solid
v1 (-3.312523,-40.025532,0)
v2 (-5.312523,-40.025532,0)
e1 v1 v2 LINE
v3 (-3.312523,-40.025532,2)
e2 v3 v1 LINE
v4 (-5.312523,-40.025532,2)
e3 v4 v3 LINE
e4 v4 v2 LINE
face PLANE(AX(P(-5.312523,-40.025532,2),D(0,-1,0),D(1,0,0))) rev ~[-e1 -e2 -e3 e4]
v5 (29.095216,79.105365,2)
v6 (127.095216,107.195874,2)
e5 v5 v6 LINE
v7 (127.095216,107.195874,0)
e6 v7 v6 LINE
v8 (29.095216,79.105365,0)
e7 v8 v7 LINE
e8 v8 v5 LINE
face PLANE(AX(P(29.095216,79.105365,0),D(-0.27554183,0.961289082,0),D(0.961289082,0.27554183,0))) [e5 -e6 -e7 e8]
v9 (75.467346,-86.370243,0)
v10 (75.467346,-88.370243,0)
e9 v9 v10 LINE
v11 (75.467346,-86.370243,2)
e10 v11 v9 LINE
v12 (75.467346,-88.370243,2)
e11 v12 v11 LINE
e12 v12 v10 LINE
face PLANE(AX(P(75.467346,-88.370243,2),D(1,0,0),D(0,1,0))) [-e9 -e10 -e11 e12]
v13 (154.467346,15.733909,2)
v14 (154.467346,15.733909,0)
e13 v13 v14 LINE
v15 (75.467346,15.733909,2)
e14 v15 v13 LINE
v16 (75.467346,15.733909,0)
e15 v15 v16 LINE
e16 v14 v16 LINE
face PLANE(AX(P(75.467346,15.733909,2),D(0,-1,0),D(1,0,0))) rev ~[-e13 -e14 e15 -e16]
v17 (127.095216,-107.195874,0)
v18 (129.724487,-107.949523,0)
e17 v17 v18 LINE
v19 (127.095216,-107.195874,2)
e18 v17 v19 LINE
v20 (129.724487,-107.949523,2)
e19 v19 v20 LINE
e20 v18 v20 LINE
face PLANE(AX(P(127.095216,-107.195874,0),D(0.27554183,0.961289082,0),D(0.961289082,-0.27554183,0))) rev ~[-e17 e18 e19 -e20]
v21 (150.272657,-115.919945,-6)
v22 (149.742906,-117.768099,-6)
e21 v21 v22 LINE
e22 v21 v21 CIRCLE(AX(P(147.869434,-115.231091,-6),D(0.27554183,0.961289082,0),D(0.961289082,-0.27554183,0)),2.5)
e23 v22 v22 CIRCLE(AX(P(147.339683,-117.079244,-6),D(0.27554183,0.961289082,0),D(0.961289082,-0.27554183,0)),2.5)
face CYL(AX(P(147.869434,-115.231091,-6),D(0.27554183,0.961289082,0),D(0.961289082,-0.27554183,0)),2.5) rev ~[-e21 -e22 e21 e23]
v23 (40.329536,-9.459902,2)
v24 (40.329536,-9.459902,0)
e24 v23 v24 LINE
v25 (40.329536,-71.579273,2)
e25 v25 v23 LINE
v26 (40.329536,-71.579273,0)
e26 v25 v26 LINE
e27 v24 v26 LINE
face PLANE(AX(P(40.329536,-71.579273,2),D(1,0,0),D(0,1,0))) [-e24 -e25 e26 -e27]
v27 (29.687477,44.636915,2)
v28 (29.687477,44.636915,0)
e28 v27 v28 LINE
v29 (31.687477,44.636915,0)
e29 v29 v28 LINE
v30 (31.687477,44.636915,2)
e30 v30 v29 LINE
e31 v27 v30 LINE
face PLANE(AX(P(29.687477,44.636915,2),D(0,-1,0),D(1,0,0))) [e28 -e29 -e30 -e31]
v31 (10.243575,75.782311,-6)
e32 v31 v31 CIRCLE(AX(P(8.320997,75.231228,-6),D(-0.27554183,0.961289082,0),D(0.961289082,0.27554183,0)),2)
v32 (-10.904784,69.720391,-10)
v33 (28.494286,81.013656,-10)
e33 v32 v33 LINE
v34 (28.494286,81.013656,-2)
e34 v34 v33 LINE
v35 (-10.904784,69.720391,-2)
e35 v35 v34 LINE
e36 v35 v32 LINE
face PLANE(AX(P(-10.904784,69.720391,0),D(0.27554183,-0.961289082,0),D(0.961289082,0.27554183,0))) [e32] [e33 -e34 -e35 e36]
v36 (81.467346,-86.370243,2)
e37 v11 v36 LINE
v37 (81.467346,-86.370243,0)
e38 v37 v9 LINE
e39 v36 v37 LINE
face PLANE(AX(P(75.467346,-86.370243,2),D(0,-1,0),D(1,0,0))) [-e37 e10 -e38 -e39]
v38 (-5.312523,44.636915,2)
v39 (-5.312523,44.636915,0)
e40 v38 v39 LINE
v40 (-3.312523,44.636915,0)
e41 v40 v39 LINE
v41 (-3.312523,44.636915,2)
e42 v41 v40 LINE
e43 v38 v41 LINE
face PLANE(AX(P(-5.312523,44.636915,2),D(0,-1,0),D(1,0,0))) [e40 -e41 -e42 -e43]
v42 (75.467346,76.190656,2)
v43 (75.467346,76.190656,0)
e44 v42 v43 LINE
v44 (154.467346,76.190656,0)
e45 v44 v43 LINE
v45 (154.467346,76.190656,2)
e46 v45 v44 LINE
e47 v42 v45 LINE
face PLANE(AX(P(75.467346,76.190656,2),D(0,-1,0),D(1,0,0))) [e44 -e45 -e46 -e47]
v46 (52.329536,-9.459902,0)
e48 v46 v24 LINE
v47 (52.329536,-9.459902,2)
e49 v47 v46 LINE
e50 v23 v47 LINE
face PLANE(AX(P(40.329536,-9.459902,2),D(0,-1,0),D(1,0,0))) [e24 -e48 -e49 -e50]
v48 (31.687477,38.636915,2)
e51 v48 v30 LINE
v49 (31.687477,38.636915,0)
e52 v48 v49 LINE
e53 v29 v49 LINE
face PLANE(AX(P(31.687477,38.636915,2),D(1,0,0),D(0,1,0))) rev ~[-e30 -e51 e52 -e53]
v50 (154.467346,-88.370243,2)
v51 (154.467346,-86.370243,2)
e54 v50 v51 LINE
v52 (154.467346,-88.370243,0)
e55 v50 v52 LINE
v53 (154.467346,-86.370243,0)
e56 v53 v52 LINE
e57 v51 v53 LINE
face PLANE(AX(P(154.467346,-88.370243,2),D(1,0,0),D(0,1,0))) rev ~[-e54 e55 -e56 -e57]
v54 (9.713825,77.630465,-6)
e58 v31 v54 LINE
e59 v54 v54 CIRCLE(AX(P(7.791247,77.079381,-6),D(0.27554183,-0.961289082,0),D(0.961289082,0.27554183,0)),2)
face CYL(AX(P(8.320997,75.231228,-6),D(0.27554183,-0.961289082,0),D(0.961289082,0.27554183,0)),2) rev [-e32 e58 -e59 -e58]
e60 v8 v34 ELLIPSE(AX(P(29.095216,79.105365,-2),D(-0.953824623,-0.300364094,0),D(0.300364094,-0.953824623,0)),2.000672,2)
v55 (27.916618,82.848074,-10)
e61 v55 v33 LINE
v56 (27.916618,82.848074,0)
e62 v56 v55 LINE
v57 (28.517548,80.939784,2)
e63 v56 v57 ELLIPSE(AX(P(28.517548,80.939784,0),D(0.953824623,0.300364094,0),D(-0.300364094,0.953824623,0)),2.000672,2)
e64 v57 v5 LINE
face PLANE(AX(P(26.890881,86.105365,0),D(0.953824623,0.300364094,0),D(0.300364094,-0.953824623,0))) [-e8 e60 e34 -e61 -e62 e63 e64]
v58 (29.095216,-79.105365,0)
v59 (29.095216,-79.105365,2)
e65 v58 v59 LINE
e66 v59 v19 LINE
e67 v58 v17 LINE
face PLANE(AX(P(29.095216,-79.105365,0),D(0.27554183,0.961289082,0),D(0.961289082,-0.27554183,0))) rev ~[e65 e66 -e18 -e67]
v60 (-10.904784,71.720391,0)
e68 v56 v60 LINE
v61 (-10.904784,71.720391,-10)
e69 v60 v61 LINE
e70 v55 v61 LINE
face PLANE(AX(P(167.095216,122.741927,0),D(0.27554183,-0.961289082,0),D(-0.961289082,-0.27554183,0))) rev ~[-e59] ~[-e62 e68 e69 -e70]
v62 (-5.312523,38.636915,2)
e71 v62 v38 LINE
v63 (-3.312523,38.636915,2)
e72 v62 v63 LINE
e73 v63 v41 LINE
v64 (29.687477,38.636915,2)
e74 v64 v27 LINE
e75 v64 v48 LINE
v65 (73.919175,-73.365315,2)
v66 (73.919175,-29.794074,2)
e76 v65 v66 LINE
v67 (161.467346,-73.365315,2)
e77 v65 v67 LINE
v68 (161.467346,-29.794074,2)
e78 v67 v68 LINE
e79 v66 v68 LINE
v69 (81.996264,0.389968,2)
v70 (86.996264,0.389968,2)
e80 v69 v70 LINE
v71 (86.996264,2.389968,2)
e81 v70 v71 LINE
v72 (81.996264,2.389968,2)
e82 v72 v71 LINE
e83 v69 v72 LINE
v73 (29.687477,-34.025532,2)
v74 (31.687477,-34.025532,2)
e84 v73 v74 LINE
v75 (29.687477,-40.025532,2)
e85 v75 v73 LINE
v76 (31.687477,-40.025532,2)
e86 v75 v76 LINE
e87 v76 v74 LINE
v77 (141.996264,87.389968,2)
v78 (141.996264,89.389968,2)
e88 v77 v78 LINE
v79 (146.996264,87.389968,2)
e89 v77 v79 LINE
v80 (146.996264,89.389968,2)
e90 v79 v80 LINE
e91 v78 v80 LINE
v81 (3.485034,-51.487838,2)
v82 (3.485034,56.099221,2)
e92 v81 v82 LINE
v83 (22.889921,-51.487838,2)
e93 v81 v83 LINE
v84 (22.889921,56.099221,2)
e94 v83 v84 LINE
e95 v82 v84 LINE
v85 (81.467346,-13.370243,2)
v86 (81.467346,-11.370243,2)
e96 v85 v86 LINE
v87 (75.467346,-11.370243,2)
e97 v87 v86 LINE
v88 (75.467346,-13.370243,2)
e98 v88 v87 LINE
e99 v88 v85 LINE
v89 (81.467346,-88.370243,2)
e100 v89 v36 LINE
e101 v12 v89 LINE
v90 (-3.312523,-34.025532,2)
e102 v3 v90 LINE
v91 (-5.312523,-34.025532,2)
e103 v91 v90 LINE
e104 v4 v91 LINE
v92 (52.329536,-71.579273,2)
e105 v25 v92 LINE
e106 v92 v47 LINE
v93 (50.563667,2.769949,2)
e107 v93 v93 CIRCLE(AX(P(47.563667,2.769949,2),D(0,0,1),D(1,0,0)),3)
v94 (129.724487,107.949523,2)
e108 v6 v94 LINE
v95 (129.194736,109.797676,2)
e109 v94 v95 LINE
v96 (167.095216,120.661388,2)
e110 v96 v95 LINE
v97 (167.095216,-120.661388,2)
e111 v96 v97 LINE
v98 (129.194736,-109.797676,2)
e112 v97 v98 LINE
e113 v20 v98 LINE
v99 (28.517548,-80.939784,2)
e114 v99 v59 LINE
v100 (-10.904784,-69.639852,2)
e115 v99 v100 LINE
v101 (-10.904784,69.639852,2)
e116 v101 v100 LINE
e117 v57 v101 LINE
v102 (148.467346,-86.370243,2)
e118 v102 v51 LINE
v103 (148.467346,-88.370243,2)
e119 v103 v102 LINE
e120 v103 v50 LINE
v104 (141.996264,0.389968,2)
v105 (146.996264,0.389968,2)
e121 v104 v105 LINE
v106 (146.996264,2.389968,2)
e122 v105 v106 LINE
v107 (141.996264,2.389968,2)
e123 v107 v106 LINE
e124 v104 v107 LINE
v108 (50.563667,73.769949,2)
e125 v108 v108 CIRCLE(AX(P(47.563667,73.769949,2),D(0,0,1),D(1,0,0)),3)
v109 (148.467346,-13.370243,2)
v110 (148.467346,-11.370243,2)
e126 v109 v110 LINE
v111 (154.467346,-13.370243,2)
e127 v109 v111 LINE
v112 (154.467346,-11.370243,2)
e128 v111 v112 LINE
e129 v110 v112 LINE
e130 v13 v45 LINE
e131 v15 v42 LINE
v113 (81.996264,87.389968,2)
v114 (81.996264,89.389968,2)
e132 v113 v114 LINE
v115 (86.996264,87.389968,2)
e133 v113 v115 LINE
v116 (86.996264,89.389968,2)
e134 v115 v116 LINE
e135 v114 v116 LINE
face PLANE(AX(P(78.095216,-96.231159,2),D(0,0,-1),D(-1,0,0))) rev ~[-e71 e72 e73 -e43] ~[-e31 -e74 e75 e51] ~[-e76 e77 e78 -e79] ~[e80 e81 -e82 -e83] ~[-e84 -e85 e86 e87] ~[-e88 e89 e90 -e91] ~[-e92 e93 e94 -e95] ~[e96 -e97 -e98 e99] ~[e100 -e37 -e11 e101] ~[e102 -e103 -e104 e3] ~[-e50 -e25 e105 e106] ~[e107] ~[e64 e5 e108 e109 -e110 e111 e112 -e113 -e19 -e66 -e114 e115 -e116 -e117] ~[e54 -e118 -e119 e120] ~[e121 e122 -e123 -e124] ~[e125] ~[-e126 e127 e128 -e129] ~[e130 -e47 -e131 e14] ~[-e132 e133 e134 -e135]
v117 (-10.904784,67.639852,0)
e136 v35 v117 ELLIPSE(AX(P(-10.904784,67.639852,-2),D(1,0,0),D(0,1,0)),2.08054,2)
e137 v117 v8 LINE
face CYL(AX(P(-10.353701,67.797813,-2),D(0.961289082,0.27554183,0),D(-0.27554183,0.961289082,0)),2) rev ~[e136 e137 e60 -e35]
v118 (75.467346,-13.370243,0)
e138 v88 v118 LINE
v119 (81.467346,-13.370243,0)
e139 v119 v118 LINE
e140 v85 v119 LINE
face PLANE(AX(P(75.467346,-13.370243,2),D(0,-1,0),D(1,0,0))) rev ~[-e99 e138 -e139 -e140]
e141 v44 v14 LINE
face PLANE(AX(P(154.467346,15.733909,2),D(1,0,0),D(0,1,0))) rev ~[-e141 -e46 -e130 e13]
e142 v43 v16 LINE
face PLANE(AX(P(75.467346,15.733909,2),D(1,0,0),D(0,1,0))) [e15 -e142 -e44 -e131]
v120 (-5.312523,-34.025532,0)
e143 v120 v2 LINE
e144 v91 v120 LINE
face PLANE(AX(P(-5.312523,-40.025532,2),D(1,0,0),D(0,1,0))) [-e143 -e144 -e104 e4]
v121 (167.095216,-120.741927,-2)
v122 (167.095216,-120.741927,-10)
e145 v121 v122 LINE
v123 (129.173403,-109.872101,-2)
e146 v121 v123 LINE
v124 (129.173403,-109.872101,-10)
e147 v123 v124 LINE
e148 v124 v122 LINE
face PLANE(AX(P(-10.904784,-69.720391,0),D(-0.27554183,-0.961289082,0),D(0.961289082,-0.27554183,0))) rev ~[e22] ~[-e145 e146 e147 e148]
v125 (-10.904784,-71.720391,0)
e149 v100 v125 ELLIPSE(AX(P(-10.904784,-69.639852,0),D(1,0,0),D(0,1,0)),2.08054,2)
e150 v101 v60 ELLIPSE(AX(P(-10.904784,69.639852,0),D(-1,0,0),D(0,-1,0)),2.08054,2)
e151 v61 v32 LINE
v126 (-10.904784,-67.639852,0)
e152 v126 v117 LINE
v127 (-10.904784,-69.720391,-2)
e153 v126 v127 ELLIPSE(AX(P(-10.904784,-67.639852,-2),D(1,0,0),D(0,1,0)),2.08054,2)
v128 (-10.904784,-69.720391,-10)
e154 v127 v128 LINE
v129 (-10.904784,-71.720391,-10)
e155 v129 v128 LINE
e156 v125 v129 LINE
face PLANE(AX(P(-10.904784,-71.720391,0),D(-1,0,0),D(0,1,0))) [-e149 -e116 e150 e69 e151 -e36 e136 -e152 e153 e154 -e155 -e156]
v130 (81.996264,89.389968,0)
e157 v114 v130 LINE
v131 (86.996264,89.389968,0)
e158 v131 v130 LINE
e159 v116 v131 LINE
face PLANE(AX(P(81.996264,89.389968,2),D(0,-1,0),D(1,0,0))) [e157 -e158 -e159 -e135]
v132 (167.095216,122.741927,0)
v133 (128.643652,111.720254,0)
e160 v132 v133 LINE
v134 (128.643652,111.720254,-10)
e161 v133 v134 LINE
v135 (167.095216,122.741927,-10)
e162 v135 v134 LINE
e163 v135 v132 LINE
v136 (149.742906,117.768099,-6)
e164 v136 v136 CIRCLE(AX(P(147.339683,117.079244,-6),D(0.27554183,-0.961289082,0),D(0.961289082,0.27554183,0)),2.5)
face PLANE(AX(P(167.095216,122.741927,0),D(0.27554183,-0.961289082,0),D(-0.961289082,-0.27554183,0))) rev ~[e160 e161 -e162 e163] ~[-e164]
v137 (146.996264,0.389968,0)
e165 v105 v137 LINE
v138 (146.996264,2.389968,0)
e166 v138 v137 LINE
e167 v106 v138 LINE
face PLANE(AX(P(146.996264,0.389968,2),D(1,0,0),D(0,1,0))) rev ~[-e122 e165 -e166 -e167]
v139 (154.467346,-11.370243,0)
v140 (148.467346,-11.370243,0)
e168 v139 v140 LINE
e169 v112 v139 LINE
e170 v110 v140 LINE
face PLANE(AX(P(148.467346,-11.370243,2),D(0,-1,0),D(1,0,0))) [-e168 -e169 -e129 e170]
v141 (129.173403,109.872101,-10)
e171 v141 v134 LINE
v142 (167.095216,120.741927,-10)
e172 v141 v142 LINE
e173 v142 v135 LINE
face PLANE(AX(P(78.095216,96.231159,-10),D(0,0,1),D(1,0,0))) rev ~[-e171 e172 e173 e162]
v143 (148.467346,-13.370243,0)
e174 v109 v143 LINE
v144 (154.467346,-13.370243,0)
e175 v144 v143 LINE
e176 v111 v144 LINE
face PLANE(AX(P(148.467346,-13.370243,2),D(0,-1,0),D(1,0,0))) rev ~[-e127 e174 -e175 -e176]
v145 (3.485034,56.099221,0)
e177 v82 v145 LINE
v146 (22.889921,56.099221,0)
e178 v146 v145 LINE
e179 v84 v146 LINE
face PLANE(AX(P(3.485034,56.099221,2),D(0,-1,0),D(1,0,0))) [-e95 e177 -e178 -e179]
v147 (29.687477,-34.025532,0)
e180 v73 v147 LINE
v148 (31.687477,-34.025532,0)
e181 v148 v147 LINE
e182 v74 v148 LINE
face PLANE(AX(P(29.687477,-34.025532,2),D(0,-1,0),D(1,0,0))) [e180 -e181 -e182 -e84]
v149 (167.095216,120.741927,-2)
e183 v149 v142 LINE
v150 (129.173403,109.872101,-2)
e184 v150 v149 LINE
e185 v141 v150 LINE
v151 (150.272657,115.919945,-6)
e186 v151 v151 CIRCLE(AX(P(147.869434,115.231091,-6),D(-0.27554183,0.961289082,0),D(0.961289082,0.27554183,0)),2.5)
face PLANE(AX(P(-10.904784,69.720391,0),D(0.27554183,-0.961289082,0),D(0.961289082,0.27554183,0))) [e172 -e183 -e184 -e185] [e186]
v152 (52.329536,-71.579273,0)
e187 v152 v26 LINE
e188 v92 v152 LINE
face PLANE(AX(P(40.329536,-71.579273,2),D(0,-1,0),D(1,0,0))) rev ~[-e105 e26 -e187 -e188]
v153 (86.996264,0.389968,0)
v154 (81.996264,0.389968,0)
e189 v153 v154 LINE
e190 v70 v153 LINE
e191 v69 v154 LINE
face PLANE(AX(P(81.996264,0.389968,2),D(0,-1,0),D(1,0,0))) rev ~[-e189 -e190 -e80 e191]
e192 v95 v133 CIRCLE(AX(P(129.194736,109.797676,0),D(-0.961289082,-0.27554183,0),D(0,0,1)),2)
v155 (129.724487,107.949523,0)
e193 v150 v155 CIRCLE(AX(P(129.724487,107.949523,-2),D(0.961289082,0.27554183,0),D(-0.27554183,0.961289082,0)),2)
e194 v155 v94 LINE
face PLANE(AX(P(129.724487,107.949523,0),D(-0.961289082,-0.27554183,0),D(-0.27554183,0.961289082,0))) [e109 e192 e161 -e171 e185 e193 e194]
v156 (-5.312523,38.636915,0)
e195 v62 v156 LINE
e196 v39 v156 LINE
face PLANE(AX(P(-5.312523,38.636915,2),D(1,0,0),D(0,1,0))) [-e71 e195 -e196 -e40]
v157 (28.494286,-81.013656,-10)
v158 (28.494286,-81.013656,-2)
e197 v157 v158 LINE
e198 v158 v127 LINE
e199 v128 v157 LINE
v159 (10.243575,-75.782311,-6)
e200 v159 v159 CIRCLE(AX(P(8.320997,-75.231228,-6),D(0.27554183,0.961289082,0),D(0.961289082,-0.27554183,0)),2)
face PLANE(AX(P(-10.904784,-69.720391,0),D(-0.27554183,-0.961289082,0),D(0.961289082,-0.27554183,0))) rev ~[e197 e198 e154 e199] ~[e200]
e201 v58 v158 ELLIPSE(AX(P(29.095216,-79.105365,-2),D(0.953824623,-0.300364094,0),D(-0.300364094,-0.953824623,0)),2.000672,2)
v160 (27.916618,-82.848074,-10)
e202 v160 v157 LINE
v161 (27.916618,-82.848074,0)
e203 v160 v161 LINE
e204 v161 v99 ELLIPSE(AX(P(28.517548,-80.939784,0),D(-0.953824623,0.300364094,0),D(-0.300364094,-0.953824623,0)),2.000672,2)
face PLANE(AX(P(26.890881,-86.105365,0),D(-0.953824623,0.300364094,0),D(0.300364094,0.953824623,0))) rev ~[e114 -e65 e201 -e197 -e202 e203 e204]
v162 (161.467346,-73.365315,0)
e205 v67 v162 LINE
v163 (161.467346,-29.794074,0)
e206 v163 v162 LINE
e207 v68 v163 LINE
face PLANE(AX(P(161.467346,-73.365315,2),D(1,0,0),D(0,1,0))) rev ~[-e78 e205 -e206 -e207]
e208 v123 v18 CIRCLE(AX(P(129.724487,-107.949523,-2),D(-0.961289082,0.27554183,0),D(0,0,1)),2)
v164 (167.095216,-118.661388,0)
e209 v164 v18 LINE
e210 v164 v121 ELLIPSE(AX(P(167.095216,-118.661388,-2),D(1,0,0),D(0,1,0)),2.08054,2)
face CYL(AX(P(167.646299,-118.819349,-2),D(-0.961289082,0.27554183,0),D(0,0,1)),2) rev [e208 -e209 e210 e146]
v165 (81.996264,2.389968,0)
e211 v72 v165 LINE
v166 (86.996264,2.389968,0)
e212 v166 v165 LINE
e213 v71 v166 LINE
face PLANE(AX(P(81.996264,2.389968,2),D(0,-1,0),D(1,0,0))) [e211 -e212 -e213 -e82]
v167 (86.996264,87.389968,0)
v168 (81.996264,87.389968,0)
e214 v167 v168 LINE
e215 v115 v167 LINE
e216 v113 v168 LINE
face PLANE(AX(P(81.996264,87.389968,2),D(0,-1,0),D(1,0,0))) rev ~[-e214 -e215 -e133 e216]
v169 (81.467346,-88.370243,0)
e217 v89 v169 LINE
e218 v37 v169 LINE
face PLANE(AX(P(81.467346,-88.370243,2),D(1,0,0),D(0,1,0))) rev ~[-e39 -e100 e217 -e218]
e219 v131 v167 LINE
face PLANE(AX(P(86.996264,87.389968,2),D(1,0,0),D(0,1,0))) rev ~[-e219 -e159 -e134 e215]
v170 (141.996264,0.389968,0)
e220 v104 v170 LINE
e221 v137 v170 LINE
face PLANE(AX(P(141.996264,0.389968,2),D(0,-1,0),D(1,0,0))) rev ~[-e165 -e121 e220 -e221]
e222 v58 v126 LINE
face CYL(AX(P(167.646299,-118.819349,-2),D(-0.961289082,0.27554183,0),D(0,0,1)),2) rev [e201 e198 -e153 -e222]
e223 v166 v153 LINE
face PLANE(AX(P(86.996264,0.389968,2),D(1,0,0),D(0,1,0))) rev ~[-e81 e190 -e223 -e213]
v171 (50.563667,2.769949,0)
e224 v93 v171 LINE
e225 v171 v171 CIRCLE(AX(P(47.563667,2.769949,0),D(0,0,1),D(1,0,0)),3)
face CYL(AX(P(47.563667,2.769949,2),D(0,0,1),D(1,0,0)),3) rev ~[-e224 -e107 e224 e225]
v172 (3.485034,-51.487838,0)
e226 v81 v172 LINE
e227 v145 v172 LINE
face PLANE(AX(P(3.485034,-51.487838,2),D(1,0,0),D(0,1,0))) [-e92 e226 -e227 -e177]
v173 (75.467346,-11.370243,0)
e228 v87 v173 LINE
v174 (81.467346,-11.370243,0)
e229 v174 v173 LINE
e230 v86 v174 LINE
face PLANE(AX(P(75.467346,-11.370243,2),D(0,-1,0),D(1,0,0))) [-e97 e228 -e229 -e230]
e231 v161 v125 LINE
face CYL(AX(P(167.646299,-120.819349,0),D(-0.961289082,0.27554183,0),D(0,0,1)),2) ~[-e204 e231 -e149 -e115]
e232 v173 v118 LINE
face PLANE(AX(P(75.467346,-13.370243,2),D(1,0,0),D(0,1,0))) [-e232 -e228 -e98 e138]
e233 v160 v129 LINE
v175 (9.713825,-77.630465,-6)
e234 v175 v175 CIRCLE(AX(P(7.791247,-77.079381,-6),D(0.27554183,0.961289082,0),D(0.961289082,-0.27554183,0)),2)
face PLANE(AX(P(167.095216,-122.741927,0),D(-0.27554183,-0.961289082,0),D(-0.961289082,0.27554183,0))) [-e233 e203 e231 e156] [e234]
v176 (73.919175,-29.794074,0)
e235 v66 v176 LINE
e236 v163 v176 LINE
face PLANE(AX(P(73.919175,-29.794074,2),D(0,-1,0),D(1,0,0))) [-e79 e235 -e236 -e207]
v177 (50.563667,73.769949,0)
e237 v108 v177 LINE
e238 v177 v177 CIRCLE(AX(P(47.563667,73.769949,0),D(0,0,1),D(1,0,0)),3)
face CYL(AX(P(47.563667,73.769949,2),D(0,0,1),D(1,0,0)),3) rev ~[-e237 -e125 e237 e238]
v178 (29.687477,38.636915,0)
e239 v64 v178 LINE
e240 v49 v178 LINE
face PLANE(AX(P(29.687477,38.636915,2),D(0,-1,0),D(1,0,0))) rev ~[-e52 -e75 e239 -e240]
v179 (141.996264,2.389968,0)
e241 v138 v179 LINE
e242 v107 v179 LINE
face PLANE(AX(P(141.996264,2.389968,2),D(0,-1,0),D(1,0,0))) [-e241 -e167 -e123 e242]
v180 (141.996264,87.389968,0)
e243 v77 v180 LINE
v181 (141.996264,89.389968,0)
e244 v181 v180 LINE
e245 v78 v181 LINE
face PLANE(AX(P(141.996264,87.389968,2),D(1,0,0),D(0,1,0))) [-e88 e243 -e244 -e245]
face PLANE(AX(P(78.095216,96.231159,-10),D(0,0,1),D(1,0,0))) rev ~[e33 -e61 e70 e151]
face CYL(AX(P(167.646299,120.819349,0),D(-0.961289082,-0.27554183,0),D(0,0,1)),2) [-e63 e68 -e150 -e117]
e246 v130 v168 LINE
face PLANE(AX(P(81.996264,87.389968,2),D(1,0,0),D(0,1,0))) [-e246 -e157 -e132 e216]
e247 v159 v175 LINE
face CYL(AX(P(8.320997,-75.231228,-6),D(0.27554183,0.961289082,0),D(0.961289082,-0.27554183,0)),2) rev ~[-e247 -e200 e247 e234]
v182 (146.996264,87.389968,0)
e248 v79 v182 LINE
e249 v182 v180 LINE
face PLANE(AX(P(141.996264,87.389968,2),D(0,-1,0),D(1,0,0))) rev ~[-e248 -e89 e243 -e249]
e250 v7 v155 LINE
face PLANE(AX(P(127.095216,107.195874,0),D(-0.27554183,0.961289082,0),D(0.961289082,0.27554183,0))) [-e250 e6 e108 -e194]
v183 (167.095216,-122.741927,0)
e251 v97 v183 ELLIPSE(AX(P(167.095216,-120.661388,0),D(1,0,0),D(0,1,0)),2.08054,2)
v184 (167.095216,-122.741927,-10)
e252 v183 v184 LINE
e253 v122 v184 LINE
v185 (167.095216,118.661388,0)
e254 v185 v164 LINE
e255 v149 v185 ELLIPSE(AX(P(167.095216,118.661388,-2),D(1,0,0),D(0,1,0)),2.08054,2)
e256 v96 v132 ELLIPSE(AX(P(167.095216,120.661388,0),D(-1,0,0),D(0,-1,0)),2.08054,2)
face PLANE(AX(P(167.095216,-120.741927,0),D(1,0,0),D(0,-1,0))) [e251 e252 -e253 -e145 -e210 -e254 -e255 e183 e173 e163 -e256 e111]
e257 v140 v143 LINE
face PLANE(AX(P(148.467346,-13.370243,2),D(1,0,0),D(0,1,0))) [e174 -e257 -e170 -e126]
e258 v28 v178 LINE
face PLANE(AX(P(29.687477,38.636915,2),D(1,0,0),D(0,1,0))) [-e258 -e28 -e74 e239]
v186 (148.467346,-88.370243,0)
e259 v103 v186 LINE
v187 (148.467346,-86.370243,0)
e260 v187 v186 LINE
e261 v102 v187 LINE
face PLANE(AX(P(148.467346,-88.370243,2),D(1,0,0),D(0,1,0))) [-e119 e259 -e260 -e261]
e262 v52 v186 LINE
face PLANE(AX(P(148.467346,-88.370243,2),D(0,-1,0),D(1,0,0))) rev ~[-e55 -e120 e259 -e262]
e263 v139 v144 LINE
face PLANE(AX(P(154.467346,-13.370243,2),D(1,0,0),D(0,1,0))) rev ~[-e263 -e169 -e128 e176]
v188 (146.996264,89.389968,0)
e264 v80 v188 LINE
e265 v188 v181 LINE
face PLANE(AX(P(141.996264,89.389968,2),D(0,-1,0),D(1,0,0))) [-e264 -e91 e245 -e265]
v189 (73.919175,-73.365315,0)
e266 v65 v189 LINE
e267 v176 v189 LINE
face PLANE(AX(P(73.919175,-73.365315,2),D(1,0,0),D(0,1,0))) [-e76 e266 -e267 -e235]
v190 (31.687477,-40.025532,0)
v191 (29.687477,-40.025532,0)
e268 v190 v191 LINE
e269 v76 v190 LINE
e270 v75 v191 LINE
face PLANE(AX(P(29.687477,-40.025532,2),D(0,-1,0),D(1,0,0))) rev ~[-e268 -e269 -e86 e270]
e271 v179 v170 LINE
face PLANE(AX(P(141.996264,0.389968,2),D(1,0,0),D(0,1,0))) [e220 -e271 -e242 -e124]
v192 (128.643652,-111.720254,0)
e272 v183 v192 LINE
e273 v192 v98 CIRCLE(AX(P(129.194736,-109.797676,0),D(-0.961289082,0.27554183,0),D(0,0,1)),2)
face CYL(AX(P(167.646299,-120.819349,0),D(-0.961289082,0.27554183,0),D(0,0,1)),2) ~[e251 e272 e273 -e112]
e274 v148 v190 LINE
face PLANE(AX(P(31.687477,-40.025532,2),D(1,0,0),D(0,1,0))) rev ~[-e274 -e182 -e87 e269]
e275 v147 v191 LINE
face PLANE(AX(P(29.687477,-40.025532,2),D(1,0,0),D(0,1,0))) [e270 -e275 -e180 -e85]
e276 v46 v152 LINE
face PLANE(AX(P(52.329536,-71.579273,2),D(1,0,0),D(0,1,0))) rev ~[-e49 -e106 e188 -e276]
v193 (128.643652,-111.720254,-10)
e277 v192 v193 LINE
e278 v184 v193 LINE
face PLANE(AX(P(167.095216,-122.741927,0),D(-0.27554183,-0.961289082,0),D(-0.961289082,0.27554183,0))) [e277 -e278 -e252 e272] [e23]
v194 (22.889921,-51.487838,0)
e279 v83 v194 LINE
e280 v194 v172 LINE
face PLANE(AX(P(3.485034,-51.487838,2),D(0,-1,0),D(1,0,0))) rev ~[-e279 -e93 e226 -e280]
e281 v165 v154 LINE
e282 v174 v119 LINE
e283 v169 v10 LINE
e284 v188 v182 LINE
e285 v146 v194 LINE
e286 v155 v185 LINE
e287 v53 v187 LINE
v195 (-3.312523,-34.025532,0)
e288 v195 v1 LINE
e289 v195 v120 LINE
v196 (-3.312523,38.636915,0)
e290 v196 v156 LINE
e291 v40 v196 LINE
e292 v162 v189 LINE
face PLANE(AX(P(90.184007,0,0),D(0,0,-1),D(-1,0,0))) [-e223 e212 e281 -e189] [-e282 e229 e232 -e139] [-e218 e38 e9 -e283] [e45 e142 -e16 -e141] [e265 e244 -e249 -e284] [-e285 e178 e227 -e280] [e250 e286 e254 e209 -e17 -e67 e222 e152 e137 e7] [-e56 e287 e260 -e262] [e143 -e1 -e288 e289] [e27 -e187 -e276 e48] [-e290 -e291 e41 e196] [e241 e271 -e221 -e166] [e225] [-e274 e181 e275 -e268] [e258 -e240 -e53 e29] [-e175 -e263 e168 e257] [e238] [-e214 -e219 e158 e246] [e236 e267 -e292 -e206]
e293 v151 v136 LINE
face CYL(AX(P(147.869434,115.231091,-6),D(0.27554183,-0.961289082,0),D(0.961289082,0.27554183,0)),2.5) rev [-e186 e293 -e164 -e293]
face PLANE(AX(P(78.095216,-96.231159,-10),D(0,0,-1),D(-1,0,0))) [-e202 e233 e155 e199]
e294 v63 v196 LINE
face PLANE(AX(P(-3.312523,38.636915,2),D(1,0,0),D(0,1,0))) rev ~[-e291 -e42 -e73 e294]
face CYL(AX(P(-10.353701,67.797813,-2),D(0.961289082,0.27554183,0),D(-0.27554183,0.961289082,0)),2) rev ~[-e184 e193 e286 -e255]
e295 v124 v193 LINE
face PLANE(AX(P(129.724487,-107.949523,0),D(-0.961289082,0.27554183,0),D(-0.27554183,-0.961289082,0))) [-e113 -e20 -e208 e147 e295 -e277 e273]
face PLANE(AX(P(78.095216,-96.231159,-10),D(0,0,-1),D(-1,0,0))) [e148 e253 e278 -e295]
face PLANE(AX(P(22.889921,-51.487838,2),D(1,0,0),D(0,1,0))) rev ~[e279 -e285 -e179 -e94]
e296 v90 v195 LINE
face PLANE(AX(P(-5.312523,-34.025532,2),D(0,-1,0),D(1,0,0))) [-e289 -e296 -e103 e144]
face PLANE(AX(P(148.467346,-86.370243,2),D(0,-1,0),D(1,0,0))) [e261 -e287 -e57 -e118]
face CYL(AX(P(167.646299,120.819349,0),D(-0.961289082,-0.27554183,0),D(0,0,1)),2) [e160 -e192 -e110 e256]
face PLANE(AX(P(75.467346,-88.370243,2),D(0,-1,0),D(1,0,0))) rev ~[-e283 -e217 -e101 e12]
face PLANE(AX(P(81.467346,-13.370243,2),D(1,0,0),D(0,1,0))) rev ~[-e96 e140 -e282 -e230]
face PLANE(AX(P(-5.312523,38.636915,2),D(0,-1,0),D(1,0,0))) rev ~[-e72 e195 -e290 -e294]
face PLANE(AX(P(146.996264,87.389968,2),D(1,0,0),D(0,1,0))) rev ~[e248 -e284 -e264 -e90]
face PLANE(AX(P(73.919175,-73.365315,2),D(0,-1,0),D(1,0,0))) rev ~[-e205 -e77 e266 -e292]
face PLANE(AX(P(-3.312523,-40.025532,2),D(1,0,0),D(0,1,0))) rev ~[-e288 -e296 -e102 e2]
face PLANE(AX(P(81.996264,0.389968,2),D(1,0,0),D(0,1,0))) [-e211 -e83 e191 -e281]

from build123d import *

# Parameters (mm, degrees)
BOSS_EXTRUDE1_DEPTH      = 2
SKETCH2_R                = 3
SKETCH2_W                = 2
SKETCH2_H                = 6
SKETCH2_W_2              = 19.404886506
SKETCH2_H_2              = 107.587058951
SKETCH2_W_3              = 12
SKETCH2_H_3              = 62.119371688
SKETCH2_W_4              = 6
SKETCH2_H_4              = 2
SKETCH2_W_5              = 5
SKETCH2_W_6              = 87.5481705
SKETCH2_H_5              = 43.571241204
SKETCH2_W_7              = 79
SKETCH2_H_6              = 60.456746524
CUT_EXTRUDE1_DEPTH       = 10
BOSS_EXTRUDE2_DEPTH      = 10
BOSS_EXTRUDE2_DEPTH_BACK = 2
FILLET1_R                = 2
CUT_EXTRUDE2_DEPTH       = 10
CUT_EXTRUDE2_DEPTH_BACK  = 10
SKETCH5_R                = 2.5
SKETCH5_R_2              = 2
CUT_EXTRUDE3_DEPTH       = 10


with BuildPart() as part:
    # Sketch1 → Boss-Extrude1 (new body)
    with BuildSketch(Plane.XY):
        Polygon((-10.904784398, -69.72039113), (-10.904784398, 69.72039113), (167.095215602, 120.741927431), (167.095215602, -120.741927431), align=None)
    extrude(amount=BOSS_EXTRUDE1_DEPTH)

    # Sketch2 → Cut-Extrude1 (cut)
    with BuildSketch(Plane.XY.offset(2)):
        with Locations((47.563666615, 2.7699494)):
            Circle(SKETCH2_R)
        with Locations((47.563666615, 73.7699494)):
            Circle(SKETCH2_R)
        with Locations((30.687477401, 41.636914827)):
            Rectangle(SKETCH2_W, SKETCH2_H)
        with Locations((30.687477401, -37.025532441)):
            Rectangle(SKETCH2_W, SKETCH2_H)
        with Locations((-4.312522599, 41.636914827)):
            Rectangle(SKETCH2_W, SKETCH2_H)
        with Locations((-4.312522599, -37.025532441)):
            Rectangle(SKETCH2_W, SKETCH2_H)
        with Locations((13.187477401, 2.305691192)):
            Rectangle(SKETCH2_W_2, SKETCH2_H_2)
        with Locations((46.32953553, -40.519587511)):
            Rectangle(SKETCH2_W_3, SKETCH2_H_3)
        with Locations((78.467345618, -87.370243237)):
            Rectangle(SKETCH2_W_4, SKETCH2_H_4)
        with Locations((78.467345618, -12.370243237)):
            Rectangle(SKETCH2_W_4, SKETCH2_H_4)
        with Locations((151.467345618, -87.370243237)):
            Rectangle(SKETCH2_W_4, SKETCH2_H_4)
        with Locations((151.467345618, -12.370243237)):
            Rectangle(SKETCH2_W_4, SKETCH2_H_4)
        with Locations((84.496263797, 1.389968406)):
            Rectangle(SKETCH2_W_5, SKETCH2_H_4)
        with Locations((84.496263797, 88.389968406)):
            Rectangle(SKETCH2_W_5, SKETCH2_H_4)
        with Locations((144.496263797, 88.389968406)):
            Rectangle(SKETCH2_W_5, SKETCH2_H_4)
        with Locations((144.496263797, 1.389968406)):
            Rectangle(SKETCH2_W_5, SKETCH2_H_4)
        with Locations((117.693260368, -51.579694355)):
            Rectangle(SKETCH2_W_6, SKETCH2_H_5)
        with Locations((114.967345618, 45.962282478)):
            Rectangle(SKETCH2_W_7, SKETCH2_H_6)
    extrude(amount=-CUT_EXTRUDE1_DEPTH, mode=Mode.SUBTRACT)

    # Sketch3 → Boss-Extrude2 (add, two sides: drawn at the far end of the back side and taken through both)
    with BuildSketch(Plane(origin=(0, 0, 0), x_dir=(-1, 0, 0), z_dir=(0, 0, -1)).offset(-BOSS_EXTRUDE2_DEPTH_BACK)):
        Polygon((10.904784398, -69.72039113), (-167.095215602, -120.741927431), (-167.095215602, -122.741927431), (10.904784398, -71.72039113), align=None)
        Polygon((-167.095215602, 120.741927431), (-167.095215602, 122.741927431), (10.904784398, 71.72039113), (10.904784398, 69.72039113), align=None)
    extrude(amount=BOSS_EXTRUDE2_DEPTH + BOSS_EXTRUDE2_DEPTH_BACK)

    # Fillet1
    fillet1_edges = [part.edges().sort_by_distance(p)[0] for p in [
        (78.095215602, 95.231159281, 0),
        (78.095215602, -95.231159281, 0),
        (78.095215602, -97.231159281, 2),
        (78.095215602, 97.231159281, 2),
    ]]
    fillet(fillet1_edges, radius=FILLET1_R)

    # Sketch4 → Cut-Extrude2 (cut, two sides: drawn at the far end of the back side and taken through both)
    with BuildSketch(Plane(origin=(0, 0, 0), x_dir=(-1, 0, 0), z_dir=(0, 0, -1)).offset(-CUT_EXTRUDE2_DEPTH_BACK)):
        Polygon((-29.095215602, 79.105365308), (-127.095215602, 107.195874059), (-129.724486678, 107.949522652), (-128.643652311, 111.720254216), (-128.09256865, 113.642832381), (-127.51525552, 115.656917896), (-124.890880959, 114.886186717), (-26.890880959, 86.105365308), align=None)
        Polygon((-127.095215602, -107.195874059), (-129.724486678, -107.949522652), (-128.643652311, -111.720254216), (-128.09256865, -113.642832381), (-127.51525552, -115.656917896), (-124.890880959, -114.886186717), (-26.890880959, -86.105365308), (-29.095215602, -79.105365308), align=None)
    extrude(amount=CUT_EXTRUDE2_DEPTH + CUT_EXTRUDE2_DEPTH_BACK, mode=Mode.SUBTRACT)

    # Sketch5 → Cut-Extrude3 (cut)
    with BuildSketch(Plane(origin=(-19.29514045, -67.315397557, 0), x_dir=(0.9612890822794596, -0.27554183038209346, 0), z_dir=(0.2755418303820934, 0.9612890822794595, 0))):
        with Locations((173.896258148, 6)):
            Circle(SKETCH5_R)
        with Locations((28.728234, 6)):
            Circle(SKETCH5_R_2)
    cut_extrude3 = extrude(amount=-CUT_EXTRUDE3_DEPTH, mode=Mode.SUBTRACT)

    # Mirror1: Cut-Extrude3 across plane
    add(cut_extrude3.mirror(Plane.ZX), mode=Mode.SUBTRACT)


solid = part.part
